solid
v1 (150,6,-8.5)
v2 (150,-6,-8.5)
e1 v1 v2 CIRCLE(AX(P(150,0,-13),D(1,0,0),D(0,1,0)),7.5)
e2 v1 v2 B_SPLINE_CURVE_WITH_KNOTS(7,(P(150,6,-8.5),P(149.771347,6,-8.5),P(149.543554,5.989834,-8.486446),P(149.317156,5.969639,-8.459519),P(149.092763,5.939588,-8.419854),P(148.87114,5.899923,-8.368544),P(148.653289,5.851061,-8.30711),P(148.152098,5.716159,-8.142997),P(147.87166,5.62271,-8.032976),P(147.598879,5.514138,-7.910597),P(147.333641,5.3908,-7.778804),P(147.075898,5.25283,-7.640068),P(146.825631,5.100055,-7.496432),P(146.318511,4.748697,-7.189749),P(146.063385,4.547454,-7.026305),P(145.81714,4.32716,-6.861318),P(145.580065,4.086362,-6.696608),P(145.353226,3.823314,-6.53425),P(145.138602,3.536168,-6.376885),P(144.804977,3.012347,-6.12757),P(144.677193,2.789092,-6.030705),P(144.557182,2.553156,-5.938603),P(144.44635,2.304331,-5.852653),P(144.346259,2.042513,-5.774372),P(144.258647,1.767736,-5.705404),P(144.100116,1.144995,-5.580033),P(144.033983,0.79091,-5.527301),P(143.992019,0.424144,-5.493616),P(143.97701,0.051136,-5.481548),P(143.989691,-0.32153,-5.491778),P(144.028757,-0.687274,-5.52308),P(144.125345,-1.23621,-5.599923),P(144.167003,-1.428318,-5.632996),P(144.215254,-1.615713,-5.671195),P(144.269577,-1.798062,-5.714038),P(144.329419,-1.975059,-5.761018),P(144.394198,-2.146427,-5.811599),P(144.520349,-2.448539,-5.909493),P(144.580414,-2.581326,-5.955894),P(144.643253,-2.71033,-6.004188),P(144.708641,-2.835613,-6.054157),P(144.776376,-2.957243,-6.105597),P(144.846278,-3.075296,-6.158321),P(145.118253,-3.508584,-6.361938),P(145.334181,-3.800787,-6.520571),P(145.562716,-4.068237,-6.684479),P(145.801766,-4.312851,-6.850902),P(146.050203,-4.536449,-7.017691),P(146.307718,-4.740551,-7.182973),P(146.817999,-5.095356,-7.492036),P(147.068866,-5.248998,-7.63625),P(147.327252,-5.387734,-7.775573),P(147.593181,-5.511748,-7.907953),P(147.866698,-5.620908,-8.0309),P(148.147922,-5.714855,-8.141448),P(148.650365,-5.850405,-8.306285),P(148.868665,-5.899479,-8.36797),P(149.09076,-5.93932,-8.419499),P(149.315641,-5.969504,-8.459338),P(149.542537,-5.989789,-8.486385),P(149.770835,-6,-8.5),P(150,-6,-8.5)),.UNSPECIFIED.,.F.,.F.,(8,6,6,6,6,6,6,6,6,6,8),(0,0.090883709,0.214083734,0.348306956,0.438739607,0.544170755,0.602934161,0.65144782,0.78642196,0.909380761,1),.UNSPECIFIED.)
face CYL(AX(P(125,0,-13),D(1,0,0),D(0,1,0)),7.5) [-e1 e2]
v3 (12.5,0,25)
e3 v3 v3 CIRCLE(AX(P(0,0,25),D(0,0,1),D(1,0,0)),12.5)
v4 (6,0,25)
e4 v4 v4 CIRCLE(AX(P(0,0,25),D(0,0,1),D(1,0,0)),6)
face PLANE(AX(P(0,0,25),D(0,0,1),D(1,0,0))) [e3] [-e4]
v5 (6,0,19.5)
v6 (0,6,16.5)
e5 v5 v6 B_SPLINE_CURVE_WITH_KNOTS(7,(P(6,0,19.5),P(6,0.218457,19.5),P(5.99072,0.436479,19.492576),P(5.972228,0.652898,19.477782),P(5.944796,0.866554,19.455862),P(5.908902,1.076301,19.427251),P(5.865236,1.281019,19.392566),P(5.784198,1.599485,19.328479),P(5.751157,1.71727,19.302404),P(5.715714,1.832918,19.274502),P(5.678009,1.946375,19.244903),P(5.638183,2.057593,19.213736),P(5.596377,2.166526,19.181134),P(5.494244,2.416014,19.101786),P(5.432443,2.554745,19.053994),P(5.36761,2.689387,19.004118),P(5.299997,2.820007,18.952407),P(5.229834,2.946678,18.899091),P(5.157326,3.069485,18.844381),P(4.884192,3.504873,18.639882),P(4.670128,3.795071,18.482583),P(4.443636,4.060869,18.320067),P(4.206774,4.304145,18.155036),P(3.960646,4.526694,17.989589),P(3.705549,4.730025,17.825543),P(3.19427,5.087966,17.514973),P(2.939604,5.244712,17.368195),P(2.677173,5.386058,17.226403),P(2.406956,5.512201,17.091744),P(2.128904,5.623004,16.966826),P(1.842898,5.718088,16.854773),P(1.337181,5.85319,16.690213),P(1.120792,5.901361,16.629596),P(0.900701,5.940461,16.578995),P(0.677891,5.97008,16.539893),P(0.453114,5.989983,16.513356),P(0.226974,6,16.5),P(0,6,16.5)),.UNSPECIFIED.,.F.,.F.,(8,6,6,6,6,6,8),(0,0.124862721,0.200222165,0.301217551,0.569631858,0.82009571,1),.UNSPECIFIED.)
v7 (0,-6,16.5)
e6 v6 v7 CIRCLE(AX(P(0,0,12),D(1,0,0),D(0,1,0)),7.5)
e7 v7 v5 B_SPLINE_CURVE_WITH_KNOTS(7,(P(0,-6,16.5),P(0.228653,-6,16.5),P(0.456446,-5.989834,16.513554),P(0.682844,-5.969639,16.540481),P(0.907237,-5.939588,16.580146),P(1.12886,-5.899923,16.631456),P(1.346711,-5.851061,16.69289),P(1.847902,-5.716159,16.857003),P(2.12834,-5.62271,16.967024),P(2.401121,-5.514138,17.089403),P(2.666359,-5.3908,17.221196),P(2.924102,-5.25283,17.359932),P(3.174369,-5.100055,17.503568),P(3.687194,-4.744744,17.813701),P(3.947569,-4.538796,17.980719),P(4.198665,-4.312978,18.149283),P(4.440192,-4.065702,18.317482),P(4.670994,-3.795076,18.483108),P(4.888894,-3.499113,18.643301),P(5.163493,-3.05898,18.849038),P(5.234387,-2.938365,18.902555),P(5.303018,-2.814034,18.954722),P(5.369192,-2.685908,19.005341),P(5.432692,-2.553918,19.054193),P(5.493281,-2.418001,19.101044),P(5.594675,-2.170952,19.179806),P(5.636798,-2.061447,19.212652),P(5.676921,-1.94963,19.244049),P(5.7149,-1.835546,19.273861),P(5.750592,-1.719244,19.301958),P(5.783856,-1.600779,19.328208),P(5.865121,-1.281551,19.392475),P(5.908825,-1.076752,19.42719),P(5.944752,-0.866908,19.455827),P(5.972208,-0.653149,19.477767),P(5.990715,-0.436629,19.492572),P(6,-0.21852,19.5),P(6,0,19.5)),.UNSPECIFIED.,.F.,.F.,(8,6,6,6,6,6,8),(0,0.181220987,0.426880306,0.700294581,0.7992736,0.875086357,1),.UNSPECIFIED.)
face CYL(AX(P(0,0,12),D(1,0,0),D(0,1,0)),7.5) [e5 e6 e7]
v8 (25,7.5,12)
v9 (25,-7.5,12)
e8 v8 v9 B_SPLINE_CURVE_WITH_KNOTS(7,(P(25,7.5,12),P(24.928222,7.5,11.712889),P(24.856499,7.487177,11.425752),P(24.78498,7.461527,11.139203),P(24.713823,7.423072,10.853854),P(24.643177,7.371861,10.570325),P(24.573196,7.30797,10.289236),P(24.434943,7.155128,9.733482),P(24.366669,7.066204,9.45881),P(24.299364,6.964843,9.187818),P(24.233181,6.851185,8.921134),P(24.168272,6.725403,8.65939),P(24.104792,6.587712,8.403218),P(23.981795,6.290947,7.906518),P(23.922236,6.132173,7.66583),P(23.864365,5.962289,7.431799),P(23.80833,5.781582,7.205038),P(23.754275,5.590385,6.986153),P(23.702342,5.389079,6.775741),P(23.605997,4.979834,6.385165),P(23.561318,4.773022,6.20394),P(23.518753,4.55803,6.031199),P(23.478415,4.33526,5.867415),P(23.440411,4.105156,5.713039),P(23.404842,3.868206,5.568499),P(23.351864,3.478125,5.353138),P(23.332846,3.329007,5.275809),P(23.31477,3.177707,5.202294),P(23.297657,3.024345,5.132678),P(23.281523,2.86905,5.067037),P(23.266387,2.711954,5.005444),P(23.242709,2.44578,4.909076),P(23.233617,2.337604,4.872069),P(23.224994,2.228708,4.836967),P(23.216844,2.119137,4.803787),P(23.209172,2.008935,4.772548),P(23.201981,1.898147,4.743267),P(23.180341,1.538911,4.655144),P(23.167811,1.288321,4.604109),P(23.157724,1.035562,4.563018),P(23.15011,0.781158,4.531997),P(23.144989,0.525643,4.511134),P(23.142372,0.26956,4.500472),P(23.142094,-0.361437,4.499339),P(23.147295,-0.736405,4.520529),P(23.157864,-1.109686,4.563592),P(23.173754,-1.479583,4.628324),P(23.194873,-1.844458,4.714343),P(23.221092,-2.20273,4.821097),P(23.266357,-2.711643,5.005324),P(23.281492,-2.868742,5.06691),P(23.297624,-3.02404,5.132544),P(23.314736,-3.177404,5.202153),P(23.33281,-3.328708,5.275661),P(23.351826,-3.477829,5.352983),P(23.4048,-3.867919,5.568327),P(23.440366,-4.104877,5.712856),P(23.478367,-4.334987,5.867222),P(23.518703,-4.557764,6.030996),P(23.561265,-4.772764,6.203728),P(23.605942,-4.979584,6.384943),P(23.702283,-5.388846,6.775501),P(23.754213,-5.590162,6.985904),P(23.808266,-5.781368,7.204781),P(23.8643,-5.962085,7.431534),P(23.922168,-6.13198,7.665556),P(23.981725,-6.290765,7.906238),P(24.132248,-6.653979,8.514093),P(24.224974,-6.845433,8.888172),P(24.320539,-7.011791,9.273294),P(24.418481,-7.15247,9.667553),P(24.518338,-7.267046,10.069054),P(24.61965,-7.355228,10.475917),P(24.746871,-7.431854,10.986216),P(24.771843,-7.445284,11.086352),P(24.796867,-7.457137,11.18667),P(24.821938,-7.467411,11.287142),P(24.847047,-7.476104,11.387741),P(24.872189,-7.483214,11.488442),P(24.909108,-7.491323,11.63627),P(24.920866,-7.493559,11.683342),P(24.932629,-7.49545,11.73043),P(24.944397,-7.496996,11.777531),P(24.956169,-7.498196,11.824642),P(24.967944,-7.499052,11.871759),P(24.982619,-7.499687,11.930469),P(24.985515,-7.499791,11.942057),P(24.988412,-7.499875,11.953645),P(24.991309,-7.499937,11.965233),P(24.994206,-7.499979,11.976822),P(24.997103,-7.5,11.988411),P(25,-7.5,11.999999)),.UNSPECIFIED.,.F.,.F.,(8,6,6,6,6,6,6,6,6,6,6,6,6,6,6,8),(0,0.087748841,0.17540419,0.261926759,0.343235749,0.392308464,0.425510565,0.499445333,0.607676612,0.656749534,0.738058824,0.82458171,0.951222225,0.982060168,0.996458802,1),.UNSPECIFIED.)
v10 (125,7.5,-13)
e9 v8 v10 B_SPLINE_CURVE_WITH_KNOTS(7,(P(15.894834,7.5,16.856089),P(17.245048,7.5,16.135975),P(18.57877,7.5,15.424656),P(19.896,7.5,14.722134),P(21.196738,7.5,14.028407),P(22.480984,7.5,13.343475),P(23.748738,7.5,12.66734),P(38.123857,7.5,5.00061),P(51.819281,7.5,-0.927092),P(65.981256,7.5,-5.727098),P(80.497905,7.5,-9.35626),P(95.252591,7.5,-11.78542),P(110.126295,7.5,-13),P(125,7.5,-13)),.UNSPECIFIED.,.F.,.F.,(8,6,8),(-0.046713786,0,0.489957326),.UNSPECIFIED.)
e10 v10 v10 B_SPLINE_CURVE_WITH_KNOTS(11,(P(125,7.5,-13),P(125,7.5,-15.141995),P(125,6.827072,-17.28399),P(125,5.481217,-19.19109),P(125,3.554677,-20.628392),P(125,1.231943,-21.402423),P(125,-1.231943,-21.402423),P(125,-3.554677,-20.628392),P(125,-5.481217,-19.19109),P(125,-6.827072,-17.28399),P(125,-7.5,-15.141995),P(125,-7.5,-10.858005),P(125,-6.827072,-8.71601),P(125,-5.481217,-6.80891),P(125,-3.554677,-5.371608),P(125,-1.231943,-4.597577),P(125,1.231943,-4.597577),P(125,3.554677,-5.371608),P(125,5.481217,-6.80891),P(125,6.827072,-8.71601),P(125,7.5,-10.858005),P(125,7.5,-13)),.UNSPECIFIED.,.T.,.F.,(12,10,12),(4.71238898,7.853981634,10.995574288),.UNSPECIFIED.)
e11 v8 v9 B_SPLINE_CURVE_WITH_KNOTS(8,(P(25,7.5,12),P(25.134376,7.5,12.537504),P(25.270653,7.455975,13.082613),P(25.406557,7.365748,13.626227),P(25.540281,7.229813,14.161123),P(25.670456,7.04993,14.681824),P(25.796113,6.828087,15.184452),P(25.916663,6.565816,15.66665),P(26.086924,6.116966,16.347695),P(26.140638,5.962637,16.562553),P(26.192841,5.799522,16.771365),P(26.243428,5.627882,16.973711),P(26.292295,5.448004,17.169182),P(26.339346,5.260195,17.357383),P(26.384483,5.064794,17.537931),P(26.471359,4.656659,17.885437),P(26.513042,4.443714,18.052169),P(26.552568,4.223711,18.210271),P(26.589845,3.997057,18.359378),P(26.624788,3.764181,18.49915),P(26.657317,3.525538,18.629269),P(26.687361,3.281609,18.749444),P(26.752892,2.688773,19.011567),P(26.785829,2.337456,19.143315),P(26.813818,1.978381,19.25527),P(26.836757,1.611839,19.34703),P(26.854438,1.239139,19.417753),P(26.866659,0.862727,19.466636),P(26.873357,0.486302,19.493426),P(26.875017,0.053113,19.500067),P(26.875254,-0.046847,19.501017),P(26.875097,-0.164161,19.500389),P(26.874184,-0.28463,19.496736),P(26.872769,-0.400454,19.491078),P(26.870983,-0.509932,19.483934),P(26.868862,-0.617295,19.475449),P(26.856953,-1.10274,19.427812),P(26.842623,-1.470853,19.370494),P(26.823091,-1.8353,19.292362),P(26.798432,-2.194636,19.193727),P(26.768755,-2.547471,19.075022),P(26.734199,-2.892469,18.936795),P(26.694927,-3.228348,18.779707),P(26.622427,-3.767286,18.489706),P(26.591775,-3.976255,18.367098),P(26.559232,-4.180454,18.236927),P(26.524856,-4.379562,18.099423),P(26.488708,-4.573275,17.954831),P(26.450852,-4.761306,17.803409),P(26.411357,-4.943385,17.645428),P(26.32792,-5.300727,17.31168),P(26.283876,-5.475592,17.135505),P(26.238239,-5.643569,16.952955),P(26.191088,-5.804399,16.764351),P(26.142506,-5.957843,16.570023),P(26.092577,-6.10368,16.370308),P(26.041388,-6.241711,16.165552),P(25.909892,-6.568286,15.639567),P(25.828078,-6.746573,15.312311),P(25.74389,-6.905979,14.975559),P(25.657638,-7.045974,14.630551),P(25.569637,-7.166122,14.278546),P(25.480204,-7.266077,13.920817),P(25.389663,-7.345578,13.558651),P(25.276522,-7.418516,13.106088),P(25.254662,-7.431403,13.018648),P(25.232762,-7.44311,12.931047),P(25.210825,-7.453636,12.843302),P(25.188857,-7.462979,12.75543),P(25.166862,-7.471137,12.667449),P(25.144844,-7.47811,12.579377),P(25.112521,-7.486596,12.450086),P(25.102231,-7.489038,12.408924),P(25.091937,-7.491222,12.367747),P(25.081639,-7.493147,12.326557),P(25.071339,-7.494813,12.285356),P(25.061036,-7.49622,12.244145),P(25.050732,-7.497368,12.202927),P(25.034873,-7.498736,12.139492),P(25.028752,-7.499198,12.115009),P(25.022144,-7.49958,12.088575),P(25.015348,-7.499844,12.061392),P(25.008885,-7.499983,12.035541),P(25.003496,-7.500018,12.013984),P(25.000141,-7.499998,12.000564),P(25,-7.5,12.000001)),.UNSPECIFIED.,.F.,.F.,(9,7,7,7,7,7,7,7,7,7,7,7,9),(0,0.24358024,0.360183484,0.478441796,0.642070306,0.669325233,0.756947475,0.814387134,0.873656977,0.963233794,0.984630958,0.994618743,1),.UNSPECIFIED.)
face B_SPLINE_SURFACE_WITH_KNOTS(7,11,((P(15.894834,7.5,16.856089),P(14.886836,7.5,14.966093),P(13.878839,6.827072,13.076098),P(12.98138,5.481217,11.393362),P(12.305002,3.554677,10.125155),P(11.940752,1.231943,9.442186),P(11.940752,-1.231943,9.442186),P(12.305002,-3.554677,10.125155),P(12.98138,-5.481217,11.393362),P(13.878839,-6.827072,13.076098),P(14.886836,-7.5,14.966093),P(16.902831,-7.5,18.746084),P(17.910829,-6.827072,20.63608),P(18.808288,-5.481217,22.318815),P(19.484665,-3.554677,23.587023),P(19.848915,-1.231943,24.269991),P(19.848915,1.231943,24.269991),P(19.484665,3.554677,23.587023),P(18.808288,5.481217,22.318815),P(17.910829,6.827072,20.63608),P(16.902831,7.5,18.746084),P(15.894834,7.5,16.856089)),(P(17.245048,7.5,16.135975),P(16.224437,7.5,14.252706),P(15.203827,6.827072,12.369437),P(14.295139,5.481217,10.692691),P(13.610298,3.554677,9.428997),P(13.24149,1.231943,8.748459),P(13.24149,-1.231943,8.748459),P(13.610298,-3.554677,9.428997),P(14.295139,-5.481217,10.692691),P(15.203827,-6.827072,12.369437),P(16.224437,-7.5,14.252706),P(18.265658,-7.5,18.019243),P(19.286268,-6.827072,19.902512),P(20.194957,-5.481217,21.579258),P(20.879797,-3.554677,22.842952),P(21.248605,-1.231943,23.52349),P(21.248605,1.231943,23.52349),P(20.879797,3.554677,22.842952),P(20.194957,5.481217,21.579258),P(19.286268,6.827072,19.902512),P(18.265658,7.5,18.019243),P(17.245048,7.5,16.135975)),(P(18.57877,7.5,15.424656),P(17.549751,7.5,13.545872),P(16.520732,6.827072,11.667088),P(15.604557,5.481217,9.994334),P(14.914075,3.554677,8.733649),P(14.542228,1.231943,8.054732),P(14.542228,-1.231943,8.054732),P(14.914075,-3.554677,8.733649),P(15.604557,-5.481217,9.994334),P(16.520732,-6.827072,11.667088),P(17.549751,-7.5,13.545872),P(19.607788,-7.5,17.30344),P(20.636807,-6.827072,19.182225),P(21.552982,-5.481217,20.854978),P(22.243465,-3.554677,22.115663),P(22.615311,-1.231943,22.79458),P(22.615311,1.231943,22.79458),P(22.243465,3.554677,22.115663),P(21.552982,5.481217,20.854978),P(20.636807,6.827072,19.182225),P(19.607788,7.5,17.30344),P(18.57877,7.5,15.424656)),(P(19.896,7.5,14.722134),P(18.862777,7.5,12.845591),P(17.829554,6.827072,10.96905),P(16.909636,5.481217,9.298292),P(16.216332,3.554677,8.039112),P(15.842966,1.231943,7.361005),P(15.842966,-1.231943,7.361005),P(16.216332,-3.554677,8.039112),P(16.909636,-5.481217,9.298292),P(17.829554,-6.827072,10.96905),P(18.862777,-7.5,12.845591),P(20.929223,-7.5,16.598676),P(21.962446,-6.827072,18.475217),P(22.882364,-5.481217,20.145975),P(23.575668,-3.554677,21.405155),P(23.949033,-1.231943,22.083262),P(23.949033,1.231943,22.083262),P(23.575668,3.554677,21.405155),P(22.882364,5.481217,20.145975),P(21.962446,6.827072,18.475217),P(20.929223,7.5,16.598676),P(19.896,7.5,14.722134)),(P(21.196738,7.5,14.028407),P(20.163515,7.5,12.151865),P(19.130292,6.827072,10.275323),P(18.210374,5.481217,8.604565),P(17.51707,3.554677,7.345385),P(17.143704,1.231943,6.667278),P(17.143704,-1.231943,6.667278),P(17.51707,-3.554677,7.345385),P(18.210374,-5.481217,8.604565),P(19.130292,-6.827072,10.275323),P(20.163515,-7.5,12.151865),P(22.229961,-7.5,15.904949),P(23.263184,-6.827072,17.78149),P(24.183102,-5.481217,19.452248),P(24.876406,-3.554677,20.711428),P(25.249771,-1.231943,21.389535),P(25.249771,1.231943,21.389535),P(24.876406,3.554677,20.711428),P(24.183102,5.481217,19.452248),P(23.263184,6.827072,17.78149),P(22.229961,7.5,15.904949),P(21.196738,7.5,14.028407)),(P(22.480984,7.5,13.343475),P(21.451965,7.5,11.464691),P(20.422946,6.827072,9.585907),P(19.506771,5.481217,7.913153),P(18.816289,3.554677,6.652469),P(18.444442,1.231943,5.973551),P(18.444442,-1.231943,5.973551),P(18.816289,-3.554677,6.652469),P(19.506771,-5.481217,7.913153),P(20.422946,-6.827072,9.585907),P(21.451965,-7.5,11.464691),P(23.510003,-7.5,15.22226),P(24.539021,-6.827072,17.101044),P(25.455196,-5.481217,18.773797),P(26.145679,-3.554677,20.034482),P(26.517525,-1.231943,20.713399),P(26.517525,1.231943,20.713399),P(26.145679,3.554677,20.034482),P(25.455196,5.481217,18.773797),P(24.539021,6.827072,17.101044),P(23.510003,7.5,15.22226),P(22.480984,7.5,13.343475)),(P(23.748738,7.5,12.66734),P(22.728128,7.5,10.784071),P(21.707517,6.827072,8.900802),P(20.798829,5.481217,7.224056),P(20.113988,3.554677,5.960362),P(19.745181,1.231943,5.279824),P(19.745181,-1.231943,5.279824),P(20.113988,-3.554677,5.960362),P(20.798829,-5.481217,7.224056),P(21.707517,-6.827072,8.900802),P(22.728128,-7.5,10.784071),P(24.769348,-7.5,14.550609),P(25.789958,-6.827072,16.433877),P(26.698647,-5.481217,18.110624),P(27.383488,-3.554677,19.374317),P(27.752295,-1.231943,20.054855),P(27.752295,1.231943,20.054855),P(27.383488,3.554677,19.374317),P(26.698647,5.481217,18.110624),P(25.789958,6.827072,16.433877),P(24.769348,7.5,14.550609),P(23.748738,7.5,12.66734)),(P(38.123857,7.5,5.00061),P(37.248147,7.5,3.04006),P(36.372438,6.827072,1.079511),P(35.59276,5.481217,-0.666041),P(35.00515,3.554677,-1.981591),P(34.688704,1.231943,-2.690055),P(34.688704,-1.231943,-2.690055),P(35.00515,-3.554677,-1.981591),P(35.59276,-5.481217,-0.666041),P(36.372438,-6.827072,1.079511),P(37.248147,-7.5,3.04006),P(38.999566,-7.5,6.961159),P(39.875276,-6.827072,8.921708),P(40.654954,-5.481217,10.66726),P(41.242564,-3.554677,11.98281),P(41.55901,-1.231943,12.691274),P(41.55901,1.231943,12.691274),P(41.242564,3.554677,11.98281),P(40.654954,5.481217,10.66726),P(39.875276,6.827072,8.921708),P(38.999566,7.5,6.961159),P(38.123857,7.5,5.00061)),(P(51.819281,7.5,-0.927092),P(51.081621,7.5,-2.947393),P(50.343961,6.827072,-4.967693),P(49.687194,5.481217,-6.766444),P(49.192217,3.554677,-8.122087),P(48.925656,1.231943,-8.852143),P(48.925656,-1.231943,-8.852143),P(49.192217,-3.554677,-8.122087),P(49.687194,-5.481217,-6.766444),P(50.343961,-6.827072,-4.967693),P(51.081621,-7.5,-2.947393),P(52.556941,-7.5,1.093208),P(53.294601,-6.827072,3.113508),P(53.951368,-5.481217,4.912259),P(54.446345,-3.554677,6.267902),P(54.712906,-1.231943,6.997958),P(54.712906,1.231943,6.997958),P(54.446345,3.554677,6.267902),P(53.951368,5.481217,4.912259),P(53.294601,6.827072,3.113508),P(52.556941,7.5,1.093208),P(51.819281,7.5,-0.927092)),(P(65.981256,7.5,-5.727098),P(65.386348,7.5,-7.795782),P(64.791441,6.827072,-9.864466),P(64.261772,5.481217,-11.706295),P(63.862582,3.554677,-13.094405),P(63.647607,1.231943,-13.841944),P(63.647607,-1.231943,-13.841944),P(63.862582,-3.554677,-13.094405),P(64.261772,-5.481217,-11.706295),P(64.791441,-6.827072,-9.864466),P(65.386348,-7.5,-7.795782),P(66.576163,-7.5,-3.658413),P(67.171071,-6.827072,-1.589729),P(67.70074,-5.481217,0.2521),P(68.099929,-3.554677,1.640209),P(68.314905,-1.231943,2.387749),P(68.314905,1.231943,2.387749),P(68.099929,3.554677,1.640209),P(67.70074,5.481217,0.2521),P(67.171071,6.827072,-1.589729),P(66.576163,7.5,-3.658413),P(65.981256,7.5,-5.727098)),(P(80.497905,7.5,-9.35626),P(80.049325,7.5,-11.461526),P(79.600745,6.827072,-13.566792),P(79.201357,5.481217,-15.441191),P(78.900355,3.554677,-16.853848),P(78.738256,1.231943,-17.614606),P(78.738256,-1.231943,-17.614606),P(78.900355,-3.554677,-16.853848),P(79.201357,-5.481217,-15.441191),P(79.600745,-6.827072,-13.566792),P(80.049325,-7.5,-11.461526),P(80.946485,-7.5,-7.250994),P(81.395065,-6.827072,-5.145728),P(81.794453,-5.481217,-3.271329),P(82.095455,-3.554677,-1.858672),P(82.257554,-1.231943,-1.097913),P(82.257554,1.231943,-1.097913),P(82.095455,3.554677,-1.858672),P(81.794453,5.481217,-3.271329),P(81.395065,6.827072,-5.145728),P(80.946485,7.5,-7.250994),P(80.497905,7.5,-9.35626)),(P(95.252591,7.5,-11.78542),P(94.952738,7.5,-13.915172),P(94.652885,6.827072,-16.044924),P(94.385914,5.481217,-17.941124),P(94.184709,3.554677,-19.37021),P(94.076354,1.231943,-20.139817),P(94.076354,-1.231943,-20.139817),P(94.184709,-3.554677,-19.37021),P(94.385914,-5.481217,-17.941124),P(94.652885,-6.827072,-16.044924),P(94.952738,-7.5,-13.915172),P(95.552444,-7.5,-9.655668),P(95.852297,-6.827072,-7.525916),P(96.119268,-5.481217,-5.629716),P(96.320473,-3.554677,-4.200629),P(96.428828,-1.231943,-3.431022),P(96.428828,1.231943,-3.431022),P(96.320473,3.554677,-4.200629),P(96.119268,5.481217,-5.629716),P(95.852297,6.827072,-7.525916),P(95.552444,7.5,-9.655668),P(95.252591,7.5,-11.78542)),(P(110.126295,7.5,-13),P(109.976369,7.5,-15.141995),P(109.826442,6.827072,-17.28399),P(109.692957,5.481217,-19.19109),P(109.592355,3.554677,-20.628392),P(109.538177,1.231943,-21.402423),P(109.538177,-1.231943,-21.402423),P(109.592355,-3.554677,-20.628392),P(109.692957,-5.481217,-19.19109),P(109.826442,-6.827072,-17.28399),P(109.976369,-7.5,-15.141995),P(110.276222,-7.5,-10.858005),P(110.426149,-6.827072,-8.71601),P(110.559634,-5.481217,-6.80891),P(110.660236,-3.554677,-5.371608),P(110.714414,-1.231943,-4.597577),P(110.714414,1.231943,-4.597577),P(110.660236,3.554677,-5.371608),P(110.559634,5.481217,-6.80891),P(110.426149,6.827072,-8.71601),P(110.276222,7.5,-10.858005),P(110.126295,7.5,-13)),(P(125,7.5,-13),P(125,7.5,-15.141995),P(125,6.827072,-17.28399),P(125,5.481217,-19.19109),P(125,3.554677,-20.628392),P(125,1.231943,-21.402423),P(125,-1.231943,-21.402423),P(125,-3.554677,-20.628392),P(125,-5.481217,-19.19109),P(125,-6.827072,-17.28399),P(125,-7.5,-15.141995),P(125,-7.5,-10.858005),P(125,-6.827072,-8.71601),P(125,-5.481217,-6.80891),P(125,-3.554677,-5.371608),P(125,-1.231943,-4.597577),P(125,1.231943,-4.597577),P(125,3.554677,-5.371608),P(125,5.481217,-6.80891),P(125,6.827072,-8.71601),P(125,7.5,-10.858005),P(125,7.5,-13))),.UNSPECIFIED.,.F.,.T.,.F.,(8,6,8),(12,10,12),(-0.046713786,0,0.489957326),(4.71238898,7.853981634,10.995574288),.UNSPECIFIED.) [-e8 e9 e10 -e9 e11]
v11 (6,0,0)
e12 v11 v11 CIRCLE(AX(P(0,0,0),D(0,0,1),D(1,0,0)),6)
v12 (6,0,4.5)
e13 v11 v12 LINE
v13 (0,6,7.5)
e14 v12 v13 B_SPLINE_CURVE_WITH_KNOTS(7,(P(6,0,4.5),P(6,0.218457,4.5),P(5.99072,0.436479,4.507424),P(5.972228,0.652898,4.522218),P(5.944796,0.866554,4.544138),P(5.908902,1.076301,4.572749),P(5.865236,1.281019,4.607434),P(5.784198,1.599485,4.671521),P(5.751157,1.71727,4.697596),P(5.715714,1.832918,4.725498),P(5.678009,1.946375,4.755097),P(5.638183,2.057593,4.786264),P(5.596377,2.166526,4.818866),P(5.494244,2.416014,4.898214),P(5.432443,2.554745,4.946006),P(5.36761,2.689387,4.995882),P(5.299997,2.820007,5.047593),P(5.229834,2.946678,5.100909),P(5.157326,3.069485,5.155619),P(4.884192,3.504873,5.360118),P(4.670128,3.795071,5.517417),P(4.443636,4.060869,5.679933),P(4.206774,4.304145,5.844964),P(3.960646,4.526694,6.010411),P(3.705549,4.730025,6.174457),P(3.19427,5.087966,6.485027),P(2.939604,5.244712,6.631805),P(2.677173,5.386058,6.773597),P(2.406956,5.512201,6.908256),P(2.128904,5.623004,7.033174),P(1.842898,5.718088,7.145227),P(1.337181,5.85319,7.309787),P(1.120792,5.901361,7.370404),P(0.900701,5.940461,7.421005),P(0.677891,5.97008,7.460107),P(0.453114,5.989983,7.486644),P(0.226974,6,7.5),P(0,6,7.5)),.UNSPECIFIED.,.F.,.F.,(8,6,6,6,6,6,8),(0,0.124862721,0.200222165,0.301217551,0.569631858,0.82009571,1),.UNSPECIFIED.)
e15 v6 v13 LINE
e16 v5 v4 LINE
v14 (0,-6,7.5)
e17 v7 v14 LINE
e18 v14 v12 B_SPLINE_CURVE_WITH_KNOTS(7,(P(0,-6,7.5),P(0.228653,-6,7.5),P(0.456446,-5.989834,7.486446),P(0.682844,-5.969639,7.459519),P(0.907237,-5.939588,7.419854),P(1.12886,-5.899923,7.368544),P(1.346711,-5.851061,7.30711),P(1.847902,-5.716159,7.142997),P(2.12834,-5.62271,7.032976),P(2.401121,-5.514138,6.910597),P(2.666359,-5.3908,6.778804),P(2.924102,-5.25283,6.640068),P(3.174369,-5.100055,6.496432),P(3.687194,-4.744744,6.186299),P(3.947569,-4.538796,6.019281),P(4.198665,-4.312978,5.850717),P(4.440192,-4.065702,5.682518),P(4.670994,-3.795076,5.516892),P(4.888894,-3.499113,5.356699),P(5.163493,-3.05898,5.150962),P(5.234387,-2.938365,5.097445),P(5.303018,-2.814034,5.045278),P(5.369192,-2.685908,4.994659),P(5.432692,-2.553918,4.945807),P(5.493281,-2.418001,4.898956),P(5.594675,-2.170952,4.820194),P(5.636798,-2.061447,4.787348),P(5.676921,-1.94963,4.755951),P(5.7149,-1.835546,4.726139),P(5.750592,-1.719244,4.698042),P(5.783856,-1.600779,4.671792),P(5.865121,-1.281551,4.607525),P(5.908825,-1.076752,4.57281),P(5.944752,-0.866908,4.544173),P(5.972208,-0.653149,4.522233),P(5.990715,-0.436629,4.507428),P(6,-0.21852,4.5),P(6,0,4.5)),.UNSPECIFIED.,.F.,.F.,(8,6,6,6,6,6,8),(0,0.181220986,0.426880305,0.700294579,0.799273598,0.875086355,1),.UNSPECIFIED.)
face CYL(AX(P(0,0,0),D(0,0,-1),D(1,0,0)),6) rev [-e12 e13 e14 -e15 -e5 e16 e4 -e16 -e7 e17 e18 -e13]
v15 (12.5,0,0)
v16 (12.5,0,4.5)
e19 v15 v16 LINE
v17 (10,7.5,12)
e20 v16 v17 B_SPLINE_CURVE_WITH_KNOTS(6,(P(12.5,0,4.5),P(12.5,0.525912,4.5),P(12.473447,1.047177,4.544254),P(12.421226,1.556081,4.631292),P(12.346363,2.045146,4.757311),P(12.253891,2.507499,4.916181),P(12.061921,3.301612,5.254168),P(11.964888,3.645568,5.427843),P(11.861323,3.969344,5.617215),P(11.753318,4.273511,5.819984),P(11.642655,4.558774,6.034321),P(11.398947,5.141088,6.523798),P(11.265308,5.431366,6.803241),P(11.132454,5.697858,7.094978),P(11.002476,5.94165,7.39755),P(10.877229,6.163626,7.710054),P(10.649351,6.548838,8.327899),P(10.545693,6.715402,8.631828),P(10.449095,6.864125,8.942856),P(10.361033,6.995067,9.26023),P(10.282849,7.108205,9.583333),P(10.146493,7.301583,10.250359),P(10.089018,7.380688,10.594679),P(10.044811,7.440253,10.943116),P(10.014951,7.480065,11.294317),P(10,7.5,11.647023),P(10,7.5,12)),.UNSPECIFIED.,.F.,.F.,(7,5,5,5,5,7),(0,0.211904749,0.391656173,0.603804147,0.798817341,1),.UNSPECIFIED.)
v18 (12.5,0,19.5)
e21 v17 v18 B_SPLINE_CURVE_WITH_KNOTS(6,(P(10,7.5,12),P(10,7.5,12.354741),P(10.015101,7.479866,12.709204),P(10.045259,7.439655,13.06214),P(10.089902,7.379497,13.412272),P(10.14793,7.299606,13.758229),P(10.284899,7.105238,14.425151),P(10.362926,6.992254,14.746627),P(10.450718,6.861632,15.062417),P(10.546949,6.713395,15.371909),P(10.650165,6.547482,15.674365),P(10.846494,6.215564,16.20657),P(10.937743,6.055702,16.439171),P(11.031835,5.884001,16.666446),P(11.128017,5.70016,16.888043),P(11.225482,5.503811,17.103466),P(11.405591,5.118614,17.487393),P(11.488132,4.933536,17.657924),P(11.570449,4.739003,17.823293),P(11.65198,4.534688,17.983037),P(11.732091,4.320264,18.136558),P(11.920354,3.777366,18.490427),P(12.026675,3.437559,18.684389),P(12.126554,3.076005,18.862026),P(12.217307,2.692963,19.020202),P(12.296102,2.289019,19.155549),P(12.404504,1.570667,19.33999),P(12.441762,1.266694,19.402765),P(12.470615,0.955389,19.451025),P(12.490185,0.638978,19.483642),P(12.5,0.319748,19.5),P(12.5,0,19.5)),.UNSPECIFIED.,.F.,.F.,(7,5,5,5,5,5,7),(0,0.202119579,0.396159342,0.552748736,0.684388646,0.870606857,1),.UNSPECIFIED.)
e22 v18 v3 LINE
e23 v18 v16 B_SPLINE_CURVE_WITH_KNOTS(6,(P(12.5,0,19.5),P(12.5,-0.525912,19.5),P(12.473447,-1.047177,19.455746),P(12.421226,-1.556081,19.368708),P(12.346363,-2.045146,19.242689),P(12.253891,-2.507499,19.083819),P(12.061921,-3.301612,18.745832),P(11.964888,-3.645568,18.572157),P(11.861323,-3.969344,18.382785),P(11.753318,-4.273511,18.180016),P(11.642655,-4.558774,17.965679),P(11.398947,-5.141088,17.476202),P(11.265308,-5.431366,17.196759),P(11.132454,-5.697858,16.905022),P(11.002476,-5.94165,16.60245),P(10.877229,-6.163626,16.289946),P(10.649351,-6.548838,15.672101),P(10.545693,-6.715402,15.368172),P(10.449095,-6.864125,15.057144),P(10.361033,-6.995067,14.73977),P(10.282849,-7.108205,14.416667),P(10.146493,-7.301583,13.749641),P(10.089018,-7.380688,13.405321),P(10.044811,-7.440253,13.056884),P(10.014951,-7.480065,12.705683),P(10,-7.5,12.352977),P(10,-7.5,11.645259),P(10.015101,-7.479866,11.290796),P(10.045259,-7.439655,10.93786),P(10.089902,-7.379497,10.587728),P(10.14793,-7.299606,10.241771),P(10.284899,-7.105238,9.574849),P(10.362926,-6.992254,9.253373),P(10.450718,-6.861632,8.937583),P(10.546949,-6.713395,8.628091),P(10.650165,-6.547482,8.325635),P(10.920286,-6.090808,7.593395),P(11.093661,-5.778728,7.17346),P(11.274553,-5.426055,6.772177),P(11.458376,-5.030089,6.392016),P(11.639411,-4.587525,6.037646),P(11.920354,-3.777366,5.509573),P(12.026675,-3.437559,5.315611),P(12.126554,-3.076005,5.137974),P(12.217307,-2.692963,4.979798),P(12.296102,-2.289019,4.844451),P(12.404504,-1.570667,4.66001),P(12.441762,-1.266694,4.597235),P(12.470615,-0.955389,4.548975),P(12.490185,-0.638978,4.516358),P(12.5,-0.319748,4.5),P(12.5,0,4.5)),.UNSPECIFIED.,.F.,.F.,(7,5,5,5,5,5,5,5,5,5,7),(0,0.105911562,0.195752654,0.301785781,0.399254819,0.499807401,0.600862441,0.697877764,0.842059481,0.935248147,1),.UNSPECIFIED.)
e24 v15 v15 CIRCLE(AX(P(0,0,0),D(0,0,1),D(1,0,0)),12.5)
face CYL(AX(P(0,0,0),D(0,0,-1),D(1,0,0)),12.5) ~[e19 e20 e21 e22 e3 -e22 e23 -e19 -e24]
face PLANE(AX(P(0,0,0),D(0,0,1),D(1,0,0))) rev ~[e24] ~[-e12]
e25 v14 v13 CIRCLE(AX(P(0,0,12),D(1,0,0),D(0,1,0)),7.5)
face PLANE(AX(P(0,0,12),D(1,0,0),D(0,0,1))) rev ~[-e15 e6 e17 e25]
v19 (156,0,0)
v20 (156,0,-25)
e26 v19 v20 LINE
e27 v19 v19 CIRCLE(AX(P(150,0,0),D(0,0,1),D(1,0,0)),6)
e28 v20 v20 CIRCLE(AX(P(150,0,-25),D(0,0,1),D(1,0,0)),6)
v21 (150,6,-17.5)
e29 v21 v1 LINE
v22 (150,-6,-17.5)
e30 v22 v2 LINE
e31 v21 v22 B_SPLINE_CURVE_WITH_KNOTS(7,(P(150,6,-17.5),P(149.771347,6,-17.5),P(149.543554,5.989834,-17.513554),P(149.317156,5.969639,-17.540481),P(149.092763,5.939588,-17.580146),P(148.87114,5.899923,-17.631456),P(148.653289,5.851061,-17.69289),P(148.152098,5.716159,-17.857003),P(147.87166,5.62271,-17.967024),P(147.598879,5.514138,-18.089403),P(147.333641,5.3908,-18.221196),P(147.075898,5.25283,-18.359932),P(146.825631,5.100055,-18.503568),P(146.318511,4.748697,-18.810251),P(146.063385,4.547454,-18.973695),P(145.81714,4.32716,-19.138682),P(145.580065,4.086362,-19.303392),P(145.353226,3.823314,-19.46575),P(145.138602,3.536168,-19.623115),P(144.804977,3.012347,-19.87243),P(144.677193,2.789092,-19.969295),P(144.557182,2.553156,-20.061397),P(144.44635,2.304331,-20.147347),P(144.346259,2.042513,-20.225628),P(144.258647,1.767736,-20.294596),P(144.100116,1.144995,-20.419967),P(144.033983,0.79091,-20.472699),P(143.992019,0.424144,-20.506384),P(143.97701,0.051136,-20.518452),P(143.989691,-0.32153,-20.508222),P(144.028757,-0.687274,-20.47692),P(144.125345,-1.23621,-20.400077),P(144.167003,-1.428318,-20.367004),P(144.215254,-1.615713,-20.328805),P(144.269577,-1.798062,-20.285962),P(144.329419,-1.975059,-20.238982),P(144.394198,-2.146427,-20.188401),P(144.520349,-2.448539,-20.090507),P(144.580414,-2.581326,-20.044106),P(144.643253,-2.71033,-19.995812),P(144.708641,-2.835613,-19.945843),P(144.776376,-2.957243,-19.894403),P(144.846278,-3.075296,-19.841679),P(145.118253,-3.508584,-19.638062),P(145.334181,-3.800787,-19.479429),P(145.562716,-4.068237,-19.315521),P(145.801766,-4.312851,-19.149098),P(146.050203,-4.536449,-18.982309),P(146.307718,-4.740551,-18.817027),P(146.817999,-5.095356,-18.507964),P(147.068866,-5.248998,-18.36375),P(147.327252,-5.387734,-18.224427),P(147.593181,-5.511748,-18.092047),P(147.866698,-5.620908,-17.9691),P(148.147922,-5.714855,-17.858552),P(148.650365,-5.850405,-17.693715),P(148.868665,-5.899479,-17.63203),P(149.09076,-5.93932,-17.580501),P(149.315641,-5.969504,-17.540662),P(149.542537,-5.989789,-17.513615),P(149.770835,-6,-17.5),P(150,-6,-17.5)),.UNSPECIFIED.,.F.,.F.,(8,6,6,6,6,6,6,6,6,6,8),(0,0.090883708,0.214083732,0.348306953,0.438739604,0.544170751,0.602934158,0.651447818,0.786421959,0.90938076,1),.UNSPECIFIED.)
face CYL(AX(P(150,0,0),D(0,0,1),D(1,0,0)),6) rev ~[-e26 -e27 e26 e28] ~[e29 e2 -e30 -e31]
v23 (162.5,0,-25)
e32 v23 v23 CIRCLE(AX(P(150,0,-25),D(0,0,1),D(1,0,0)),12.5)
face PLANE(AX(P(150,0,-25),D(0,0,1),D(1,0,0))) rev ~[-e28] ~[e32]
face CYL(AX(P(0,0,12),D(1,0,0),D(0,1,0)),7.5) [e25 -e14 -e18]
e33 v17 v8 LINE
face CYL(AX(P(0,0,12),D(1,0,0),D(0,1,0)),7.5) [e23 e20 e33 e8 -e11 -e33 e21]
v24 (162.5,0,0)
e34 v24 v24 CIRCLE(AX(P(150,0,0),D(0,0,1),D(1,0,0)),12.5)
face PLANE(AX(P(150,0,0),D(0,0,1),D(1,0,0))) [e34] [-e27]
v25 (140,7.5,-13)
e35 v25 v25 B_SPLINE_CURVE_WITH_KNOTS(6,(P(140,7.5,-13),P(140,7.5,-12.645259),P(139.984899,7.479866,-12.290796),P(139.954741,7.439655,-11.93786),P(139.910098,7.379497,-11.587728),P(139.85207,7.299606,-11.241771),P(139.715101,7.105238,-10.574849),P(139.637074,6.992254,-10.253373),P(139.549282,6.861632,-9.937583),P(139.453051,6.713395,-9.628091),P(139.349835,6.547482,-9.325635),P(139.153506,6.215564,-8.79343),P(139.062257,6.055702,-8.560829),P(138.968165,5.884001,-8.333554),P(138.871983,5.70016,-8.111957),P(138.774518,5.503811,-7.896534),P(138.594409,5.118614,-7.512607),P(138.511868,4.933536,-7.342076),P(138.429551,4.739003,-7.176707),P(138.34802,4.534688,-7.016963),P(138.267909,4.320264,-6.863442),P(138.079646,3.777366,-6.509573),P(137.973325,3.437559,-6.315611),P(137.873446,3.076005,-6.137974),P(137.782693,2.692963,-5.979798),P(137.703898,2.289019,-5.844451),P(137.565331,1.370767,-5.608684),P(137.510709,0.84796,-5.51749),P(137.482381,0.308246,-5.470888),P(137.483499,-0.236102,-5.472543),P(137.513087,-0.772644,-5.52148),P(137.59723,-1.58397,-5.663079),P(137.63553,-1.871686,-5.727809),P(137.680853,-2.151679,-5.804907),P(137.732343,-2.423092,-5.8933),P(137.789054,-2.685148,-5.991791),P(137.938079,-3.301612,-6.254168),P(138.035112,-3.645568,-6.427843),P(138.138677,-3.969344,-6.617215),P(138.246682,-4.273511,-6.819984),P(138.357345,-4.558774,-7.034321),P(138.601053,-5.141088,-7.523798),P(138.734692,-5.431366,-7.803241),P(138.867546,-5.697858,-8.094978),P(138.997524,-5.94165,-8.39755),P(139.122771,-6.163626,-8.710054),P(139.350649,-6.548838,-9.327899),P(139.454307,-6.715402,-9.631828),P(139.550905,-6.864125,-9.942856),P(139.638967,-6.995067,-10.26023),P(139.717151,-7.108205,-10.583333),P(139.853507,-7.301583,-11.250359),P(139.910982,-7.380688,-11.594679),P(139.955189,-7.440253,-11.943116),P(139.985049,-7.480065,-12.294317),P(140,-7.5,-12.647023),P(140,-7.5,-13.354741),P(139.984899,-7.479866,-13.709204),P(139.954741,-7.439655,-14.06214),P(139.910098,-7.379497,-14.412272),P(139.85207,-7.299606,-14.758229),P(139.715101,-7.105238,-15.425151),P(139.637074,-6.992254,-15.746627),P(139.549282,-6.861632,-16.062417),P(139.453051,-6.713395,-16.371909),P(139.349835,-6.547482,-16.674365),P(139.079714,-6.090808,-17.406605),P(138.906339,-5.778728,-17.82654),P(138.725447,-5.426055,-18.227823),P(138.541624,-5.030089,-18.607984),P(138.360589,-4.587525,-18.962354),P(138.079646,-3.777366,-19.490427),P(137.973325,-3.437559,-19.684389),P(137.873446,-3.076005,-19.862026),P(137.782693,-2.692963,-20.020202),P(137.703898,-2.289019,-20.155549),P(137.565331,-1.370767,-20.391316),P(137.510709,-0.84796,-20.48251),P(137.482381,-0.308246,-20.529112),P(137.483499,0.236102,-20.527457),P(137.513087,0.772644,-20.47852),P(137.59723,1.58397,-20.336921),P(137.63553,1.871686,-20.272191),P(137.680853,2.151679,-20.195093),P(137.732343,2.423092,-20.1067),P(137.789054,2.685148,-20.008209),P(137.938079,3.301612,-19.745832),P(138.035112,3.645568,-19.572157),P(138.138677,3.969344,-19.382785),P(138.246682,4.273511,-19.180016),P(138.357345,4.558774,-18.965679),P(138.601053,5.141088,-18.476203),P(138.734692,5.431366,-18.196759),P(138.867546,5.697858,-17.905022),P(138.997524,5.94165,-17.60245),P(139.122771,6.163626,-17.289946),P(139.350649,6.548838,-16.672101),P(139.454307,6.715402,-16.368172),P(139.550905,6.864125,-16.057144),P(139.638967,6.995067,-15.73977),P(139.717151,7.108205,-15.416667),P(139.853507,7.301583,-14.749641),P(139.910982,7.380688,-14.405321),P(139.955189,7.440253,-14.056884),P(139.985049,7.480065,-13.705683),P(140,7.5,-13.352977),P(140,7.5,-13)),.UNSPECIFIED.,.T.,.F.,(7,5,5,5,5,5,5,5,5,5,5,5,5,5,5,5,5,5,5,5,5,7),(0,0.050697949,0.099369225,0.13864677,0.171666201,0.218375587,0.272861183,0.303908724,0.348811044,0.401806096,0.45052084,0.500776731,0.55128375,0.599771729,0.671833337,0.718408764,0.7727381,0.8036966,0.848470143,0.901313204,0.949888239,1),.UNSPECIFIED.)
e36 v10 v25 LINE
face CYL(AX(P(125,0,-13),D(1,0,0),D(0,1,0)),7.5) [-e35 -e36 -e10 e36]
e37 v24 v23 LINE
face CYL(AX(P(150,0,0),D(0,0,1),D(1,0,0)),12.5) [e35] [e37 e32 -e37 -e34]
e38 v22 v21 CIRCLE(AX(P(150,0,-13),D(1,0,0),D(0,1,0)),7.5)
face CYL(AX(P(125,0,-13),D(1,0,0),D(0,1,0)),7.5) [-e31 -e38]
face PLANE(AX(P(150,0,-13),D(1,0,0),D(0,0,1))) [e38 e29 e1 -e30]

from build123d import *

# Parameters (mm, degrees)
F0_R     = 12.5
F0_R_2   = 6
F1_DEPTH = 25
F2_DEPTH = 25
F4_R     = 7.5


with BuildPart() as f1:
    # F0 (on Top) → F1 (new body)
    with BuildSketch(Plane.XY):
        Circle(F0_R)
        Circle(F0_R_2, mode=Mode.SUBTRACT)
    extrude(amount=F1_DEPTH)



with BuildPart() as f2:
    # F0 (on Top) → F2 (new body)
    with BuildSketch(Plane.XY):
        with Locations((150, 0)):
            Circle(F0_R)
        with Locations((150, 0)):
            Circle(F0_R_2, mode=Mode.SUBTRACT)
    extrude(amount=-F2_DEPTH)


with BuildPart() as f1_1:
    add(f1.part)

    add(f2.part)  # F5 merges F2
    # F5: sweep along a path in F3
    with BuildLine(Plane.XZ) as f5_path:
        Line((0, 12), (25, 12))
        ThreePointArc((25, 12), (73.4611796798, -6.6552812809), (125, -13))
        Line((125, -13), (150, -13))
    # F4 (on Right) → F5 (sweep)
    with BuildSketch(Plane.YZ):
        with Locations((0, 12)):
            Circle(F4_R)
    sweep(path=f5_path.line, transition=Transition.RIGHT)


solid = f1_1.part
